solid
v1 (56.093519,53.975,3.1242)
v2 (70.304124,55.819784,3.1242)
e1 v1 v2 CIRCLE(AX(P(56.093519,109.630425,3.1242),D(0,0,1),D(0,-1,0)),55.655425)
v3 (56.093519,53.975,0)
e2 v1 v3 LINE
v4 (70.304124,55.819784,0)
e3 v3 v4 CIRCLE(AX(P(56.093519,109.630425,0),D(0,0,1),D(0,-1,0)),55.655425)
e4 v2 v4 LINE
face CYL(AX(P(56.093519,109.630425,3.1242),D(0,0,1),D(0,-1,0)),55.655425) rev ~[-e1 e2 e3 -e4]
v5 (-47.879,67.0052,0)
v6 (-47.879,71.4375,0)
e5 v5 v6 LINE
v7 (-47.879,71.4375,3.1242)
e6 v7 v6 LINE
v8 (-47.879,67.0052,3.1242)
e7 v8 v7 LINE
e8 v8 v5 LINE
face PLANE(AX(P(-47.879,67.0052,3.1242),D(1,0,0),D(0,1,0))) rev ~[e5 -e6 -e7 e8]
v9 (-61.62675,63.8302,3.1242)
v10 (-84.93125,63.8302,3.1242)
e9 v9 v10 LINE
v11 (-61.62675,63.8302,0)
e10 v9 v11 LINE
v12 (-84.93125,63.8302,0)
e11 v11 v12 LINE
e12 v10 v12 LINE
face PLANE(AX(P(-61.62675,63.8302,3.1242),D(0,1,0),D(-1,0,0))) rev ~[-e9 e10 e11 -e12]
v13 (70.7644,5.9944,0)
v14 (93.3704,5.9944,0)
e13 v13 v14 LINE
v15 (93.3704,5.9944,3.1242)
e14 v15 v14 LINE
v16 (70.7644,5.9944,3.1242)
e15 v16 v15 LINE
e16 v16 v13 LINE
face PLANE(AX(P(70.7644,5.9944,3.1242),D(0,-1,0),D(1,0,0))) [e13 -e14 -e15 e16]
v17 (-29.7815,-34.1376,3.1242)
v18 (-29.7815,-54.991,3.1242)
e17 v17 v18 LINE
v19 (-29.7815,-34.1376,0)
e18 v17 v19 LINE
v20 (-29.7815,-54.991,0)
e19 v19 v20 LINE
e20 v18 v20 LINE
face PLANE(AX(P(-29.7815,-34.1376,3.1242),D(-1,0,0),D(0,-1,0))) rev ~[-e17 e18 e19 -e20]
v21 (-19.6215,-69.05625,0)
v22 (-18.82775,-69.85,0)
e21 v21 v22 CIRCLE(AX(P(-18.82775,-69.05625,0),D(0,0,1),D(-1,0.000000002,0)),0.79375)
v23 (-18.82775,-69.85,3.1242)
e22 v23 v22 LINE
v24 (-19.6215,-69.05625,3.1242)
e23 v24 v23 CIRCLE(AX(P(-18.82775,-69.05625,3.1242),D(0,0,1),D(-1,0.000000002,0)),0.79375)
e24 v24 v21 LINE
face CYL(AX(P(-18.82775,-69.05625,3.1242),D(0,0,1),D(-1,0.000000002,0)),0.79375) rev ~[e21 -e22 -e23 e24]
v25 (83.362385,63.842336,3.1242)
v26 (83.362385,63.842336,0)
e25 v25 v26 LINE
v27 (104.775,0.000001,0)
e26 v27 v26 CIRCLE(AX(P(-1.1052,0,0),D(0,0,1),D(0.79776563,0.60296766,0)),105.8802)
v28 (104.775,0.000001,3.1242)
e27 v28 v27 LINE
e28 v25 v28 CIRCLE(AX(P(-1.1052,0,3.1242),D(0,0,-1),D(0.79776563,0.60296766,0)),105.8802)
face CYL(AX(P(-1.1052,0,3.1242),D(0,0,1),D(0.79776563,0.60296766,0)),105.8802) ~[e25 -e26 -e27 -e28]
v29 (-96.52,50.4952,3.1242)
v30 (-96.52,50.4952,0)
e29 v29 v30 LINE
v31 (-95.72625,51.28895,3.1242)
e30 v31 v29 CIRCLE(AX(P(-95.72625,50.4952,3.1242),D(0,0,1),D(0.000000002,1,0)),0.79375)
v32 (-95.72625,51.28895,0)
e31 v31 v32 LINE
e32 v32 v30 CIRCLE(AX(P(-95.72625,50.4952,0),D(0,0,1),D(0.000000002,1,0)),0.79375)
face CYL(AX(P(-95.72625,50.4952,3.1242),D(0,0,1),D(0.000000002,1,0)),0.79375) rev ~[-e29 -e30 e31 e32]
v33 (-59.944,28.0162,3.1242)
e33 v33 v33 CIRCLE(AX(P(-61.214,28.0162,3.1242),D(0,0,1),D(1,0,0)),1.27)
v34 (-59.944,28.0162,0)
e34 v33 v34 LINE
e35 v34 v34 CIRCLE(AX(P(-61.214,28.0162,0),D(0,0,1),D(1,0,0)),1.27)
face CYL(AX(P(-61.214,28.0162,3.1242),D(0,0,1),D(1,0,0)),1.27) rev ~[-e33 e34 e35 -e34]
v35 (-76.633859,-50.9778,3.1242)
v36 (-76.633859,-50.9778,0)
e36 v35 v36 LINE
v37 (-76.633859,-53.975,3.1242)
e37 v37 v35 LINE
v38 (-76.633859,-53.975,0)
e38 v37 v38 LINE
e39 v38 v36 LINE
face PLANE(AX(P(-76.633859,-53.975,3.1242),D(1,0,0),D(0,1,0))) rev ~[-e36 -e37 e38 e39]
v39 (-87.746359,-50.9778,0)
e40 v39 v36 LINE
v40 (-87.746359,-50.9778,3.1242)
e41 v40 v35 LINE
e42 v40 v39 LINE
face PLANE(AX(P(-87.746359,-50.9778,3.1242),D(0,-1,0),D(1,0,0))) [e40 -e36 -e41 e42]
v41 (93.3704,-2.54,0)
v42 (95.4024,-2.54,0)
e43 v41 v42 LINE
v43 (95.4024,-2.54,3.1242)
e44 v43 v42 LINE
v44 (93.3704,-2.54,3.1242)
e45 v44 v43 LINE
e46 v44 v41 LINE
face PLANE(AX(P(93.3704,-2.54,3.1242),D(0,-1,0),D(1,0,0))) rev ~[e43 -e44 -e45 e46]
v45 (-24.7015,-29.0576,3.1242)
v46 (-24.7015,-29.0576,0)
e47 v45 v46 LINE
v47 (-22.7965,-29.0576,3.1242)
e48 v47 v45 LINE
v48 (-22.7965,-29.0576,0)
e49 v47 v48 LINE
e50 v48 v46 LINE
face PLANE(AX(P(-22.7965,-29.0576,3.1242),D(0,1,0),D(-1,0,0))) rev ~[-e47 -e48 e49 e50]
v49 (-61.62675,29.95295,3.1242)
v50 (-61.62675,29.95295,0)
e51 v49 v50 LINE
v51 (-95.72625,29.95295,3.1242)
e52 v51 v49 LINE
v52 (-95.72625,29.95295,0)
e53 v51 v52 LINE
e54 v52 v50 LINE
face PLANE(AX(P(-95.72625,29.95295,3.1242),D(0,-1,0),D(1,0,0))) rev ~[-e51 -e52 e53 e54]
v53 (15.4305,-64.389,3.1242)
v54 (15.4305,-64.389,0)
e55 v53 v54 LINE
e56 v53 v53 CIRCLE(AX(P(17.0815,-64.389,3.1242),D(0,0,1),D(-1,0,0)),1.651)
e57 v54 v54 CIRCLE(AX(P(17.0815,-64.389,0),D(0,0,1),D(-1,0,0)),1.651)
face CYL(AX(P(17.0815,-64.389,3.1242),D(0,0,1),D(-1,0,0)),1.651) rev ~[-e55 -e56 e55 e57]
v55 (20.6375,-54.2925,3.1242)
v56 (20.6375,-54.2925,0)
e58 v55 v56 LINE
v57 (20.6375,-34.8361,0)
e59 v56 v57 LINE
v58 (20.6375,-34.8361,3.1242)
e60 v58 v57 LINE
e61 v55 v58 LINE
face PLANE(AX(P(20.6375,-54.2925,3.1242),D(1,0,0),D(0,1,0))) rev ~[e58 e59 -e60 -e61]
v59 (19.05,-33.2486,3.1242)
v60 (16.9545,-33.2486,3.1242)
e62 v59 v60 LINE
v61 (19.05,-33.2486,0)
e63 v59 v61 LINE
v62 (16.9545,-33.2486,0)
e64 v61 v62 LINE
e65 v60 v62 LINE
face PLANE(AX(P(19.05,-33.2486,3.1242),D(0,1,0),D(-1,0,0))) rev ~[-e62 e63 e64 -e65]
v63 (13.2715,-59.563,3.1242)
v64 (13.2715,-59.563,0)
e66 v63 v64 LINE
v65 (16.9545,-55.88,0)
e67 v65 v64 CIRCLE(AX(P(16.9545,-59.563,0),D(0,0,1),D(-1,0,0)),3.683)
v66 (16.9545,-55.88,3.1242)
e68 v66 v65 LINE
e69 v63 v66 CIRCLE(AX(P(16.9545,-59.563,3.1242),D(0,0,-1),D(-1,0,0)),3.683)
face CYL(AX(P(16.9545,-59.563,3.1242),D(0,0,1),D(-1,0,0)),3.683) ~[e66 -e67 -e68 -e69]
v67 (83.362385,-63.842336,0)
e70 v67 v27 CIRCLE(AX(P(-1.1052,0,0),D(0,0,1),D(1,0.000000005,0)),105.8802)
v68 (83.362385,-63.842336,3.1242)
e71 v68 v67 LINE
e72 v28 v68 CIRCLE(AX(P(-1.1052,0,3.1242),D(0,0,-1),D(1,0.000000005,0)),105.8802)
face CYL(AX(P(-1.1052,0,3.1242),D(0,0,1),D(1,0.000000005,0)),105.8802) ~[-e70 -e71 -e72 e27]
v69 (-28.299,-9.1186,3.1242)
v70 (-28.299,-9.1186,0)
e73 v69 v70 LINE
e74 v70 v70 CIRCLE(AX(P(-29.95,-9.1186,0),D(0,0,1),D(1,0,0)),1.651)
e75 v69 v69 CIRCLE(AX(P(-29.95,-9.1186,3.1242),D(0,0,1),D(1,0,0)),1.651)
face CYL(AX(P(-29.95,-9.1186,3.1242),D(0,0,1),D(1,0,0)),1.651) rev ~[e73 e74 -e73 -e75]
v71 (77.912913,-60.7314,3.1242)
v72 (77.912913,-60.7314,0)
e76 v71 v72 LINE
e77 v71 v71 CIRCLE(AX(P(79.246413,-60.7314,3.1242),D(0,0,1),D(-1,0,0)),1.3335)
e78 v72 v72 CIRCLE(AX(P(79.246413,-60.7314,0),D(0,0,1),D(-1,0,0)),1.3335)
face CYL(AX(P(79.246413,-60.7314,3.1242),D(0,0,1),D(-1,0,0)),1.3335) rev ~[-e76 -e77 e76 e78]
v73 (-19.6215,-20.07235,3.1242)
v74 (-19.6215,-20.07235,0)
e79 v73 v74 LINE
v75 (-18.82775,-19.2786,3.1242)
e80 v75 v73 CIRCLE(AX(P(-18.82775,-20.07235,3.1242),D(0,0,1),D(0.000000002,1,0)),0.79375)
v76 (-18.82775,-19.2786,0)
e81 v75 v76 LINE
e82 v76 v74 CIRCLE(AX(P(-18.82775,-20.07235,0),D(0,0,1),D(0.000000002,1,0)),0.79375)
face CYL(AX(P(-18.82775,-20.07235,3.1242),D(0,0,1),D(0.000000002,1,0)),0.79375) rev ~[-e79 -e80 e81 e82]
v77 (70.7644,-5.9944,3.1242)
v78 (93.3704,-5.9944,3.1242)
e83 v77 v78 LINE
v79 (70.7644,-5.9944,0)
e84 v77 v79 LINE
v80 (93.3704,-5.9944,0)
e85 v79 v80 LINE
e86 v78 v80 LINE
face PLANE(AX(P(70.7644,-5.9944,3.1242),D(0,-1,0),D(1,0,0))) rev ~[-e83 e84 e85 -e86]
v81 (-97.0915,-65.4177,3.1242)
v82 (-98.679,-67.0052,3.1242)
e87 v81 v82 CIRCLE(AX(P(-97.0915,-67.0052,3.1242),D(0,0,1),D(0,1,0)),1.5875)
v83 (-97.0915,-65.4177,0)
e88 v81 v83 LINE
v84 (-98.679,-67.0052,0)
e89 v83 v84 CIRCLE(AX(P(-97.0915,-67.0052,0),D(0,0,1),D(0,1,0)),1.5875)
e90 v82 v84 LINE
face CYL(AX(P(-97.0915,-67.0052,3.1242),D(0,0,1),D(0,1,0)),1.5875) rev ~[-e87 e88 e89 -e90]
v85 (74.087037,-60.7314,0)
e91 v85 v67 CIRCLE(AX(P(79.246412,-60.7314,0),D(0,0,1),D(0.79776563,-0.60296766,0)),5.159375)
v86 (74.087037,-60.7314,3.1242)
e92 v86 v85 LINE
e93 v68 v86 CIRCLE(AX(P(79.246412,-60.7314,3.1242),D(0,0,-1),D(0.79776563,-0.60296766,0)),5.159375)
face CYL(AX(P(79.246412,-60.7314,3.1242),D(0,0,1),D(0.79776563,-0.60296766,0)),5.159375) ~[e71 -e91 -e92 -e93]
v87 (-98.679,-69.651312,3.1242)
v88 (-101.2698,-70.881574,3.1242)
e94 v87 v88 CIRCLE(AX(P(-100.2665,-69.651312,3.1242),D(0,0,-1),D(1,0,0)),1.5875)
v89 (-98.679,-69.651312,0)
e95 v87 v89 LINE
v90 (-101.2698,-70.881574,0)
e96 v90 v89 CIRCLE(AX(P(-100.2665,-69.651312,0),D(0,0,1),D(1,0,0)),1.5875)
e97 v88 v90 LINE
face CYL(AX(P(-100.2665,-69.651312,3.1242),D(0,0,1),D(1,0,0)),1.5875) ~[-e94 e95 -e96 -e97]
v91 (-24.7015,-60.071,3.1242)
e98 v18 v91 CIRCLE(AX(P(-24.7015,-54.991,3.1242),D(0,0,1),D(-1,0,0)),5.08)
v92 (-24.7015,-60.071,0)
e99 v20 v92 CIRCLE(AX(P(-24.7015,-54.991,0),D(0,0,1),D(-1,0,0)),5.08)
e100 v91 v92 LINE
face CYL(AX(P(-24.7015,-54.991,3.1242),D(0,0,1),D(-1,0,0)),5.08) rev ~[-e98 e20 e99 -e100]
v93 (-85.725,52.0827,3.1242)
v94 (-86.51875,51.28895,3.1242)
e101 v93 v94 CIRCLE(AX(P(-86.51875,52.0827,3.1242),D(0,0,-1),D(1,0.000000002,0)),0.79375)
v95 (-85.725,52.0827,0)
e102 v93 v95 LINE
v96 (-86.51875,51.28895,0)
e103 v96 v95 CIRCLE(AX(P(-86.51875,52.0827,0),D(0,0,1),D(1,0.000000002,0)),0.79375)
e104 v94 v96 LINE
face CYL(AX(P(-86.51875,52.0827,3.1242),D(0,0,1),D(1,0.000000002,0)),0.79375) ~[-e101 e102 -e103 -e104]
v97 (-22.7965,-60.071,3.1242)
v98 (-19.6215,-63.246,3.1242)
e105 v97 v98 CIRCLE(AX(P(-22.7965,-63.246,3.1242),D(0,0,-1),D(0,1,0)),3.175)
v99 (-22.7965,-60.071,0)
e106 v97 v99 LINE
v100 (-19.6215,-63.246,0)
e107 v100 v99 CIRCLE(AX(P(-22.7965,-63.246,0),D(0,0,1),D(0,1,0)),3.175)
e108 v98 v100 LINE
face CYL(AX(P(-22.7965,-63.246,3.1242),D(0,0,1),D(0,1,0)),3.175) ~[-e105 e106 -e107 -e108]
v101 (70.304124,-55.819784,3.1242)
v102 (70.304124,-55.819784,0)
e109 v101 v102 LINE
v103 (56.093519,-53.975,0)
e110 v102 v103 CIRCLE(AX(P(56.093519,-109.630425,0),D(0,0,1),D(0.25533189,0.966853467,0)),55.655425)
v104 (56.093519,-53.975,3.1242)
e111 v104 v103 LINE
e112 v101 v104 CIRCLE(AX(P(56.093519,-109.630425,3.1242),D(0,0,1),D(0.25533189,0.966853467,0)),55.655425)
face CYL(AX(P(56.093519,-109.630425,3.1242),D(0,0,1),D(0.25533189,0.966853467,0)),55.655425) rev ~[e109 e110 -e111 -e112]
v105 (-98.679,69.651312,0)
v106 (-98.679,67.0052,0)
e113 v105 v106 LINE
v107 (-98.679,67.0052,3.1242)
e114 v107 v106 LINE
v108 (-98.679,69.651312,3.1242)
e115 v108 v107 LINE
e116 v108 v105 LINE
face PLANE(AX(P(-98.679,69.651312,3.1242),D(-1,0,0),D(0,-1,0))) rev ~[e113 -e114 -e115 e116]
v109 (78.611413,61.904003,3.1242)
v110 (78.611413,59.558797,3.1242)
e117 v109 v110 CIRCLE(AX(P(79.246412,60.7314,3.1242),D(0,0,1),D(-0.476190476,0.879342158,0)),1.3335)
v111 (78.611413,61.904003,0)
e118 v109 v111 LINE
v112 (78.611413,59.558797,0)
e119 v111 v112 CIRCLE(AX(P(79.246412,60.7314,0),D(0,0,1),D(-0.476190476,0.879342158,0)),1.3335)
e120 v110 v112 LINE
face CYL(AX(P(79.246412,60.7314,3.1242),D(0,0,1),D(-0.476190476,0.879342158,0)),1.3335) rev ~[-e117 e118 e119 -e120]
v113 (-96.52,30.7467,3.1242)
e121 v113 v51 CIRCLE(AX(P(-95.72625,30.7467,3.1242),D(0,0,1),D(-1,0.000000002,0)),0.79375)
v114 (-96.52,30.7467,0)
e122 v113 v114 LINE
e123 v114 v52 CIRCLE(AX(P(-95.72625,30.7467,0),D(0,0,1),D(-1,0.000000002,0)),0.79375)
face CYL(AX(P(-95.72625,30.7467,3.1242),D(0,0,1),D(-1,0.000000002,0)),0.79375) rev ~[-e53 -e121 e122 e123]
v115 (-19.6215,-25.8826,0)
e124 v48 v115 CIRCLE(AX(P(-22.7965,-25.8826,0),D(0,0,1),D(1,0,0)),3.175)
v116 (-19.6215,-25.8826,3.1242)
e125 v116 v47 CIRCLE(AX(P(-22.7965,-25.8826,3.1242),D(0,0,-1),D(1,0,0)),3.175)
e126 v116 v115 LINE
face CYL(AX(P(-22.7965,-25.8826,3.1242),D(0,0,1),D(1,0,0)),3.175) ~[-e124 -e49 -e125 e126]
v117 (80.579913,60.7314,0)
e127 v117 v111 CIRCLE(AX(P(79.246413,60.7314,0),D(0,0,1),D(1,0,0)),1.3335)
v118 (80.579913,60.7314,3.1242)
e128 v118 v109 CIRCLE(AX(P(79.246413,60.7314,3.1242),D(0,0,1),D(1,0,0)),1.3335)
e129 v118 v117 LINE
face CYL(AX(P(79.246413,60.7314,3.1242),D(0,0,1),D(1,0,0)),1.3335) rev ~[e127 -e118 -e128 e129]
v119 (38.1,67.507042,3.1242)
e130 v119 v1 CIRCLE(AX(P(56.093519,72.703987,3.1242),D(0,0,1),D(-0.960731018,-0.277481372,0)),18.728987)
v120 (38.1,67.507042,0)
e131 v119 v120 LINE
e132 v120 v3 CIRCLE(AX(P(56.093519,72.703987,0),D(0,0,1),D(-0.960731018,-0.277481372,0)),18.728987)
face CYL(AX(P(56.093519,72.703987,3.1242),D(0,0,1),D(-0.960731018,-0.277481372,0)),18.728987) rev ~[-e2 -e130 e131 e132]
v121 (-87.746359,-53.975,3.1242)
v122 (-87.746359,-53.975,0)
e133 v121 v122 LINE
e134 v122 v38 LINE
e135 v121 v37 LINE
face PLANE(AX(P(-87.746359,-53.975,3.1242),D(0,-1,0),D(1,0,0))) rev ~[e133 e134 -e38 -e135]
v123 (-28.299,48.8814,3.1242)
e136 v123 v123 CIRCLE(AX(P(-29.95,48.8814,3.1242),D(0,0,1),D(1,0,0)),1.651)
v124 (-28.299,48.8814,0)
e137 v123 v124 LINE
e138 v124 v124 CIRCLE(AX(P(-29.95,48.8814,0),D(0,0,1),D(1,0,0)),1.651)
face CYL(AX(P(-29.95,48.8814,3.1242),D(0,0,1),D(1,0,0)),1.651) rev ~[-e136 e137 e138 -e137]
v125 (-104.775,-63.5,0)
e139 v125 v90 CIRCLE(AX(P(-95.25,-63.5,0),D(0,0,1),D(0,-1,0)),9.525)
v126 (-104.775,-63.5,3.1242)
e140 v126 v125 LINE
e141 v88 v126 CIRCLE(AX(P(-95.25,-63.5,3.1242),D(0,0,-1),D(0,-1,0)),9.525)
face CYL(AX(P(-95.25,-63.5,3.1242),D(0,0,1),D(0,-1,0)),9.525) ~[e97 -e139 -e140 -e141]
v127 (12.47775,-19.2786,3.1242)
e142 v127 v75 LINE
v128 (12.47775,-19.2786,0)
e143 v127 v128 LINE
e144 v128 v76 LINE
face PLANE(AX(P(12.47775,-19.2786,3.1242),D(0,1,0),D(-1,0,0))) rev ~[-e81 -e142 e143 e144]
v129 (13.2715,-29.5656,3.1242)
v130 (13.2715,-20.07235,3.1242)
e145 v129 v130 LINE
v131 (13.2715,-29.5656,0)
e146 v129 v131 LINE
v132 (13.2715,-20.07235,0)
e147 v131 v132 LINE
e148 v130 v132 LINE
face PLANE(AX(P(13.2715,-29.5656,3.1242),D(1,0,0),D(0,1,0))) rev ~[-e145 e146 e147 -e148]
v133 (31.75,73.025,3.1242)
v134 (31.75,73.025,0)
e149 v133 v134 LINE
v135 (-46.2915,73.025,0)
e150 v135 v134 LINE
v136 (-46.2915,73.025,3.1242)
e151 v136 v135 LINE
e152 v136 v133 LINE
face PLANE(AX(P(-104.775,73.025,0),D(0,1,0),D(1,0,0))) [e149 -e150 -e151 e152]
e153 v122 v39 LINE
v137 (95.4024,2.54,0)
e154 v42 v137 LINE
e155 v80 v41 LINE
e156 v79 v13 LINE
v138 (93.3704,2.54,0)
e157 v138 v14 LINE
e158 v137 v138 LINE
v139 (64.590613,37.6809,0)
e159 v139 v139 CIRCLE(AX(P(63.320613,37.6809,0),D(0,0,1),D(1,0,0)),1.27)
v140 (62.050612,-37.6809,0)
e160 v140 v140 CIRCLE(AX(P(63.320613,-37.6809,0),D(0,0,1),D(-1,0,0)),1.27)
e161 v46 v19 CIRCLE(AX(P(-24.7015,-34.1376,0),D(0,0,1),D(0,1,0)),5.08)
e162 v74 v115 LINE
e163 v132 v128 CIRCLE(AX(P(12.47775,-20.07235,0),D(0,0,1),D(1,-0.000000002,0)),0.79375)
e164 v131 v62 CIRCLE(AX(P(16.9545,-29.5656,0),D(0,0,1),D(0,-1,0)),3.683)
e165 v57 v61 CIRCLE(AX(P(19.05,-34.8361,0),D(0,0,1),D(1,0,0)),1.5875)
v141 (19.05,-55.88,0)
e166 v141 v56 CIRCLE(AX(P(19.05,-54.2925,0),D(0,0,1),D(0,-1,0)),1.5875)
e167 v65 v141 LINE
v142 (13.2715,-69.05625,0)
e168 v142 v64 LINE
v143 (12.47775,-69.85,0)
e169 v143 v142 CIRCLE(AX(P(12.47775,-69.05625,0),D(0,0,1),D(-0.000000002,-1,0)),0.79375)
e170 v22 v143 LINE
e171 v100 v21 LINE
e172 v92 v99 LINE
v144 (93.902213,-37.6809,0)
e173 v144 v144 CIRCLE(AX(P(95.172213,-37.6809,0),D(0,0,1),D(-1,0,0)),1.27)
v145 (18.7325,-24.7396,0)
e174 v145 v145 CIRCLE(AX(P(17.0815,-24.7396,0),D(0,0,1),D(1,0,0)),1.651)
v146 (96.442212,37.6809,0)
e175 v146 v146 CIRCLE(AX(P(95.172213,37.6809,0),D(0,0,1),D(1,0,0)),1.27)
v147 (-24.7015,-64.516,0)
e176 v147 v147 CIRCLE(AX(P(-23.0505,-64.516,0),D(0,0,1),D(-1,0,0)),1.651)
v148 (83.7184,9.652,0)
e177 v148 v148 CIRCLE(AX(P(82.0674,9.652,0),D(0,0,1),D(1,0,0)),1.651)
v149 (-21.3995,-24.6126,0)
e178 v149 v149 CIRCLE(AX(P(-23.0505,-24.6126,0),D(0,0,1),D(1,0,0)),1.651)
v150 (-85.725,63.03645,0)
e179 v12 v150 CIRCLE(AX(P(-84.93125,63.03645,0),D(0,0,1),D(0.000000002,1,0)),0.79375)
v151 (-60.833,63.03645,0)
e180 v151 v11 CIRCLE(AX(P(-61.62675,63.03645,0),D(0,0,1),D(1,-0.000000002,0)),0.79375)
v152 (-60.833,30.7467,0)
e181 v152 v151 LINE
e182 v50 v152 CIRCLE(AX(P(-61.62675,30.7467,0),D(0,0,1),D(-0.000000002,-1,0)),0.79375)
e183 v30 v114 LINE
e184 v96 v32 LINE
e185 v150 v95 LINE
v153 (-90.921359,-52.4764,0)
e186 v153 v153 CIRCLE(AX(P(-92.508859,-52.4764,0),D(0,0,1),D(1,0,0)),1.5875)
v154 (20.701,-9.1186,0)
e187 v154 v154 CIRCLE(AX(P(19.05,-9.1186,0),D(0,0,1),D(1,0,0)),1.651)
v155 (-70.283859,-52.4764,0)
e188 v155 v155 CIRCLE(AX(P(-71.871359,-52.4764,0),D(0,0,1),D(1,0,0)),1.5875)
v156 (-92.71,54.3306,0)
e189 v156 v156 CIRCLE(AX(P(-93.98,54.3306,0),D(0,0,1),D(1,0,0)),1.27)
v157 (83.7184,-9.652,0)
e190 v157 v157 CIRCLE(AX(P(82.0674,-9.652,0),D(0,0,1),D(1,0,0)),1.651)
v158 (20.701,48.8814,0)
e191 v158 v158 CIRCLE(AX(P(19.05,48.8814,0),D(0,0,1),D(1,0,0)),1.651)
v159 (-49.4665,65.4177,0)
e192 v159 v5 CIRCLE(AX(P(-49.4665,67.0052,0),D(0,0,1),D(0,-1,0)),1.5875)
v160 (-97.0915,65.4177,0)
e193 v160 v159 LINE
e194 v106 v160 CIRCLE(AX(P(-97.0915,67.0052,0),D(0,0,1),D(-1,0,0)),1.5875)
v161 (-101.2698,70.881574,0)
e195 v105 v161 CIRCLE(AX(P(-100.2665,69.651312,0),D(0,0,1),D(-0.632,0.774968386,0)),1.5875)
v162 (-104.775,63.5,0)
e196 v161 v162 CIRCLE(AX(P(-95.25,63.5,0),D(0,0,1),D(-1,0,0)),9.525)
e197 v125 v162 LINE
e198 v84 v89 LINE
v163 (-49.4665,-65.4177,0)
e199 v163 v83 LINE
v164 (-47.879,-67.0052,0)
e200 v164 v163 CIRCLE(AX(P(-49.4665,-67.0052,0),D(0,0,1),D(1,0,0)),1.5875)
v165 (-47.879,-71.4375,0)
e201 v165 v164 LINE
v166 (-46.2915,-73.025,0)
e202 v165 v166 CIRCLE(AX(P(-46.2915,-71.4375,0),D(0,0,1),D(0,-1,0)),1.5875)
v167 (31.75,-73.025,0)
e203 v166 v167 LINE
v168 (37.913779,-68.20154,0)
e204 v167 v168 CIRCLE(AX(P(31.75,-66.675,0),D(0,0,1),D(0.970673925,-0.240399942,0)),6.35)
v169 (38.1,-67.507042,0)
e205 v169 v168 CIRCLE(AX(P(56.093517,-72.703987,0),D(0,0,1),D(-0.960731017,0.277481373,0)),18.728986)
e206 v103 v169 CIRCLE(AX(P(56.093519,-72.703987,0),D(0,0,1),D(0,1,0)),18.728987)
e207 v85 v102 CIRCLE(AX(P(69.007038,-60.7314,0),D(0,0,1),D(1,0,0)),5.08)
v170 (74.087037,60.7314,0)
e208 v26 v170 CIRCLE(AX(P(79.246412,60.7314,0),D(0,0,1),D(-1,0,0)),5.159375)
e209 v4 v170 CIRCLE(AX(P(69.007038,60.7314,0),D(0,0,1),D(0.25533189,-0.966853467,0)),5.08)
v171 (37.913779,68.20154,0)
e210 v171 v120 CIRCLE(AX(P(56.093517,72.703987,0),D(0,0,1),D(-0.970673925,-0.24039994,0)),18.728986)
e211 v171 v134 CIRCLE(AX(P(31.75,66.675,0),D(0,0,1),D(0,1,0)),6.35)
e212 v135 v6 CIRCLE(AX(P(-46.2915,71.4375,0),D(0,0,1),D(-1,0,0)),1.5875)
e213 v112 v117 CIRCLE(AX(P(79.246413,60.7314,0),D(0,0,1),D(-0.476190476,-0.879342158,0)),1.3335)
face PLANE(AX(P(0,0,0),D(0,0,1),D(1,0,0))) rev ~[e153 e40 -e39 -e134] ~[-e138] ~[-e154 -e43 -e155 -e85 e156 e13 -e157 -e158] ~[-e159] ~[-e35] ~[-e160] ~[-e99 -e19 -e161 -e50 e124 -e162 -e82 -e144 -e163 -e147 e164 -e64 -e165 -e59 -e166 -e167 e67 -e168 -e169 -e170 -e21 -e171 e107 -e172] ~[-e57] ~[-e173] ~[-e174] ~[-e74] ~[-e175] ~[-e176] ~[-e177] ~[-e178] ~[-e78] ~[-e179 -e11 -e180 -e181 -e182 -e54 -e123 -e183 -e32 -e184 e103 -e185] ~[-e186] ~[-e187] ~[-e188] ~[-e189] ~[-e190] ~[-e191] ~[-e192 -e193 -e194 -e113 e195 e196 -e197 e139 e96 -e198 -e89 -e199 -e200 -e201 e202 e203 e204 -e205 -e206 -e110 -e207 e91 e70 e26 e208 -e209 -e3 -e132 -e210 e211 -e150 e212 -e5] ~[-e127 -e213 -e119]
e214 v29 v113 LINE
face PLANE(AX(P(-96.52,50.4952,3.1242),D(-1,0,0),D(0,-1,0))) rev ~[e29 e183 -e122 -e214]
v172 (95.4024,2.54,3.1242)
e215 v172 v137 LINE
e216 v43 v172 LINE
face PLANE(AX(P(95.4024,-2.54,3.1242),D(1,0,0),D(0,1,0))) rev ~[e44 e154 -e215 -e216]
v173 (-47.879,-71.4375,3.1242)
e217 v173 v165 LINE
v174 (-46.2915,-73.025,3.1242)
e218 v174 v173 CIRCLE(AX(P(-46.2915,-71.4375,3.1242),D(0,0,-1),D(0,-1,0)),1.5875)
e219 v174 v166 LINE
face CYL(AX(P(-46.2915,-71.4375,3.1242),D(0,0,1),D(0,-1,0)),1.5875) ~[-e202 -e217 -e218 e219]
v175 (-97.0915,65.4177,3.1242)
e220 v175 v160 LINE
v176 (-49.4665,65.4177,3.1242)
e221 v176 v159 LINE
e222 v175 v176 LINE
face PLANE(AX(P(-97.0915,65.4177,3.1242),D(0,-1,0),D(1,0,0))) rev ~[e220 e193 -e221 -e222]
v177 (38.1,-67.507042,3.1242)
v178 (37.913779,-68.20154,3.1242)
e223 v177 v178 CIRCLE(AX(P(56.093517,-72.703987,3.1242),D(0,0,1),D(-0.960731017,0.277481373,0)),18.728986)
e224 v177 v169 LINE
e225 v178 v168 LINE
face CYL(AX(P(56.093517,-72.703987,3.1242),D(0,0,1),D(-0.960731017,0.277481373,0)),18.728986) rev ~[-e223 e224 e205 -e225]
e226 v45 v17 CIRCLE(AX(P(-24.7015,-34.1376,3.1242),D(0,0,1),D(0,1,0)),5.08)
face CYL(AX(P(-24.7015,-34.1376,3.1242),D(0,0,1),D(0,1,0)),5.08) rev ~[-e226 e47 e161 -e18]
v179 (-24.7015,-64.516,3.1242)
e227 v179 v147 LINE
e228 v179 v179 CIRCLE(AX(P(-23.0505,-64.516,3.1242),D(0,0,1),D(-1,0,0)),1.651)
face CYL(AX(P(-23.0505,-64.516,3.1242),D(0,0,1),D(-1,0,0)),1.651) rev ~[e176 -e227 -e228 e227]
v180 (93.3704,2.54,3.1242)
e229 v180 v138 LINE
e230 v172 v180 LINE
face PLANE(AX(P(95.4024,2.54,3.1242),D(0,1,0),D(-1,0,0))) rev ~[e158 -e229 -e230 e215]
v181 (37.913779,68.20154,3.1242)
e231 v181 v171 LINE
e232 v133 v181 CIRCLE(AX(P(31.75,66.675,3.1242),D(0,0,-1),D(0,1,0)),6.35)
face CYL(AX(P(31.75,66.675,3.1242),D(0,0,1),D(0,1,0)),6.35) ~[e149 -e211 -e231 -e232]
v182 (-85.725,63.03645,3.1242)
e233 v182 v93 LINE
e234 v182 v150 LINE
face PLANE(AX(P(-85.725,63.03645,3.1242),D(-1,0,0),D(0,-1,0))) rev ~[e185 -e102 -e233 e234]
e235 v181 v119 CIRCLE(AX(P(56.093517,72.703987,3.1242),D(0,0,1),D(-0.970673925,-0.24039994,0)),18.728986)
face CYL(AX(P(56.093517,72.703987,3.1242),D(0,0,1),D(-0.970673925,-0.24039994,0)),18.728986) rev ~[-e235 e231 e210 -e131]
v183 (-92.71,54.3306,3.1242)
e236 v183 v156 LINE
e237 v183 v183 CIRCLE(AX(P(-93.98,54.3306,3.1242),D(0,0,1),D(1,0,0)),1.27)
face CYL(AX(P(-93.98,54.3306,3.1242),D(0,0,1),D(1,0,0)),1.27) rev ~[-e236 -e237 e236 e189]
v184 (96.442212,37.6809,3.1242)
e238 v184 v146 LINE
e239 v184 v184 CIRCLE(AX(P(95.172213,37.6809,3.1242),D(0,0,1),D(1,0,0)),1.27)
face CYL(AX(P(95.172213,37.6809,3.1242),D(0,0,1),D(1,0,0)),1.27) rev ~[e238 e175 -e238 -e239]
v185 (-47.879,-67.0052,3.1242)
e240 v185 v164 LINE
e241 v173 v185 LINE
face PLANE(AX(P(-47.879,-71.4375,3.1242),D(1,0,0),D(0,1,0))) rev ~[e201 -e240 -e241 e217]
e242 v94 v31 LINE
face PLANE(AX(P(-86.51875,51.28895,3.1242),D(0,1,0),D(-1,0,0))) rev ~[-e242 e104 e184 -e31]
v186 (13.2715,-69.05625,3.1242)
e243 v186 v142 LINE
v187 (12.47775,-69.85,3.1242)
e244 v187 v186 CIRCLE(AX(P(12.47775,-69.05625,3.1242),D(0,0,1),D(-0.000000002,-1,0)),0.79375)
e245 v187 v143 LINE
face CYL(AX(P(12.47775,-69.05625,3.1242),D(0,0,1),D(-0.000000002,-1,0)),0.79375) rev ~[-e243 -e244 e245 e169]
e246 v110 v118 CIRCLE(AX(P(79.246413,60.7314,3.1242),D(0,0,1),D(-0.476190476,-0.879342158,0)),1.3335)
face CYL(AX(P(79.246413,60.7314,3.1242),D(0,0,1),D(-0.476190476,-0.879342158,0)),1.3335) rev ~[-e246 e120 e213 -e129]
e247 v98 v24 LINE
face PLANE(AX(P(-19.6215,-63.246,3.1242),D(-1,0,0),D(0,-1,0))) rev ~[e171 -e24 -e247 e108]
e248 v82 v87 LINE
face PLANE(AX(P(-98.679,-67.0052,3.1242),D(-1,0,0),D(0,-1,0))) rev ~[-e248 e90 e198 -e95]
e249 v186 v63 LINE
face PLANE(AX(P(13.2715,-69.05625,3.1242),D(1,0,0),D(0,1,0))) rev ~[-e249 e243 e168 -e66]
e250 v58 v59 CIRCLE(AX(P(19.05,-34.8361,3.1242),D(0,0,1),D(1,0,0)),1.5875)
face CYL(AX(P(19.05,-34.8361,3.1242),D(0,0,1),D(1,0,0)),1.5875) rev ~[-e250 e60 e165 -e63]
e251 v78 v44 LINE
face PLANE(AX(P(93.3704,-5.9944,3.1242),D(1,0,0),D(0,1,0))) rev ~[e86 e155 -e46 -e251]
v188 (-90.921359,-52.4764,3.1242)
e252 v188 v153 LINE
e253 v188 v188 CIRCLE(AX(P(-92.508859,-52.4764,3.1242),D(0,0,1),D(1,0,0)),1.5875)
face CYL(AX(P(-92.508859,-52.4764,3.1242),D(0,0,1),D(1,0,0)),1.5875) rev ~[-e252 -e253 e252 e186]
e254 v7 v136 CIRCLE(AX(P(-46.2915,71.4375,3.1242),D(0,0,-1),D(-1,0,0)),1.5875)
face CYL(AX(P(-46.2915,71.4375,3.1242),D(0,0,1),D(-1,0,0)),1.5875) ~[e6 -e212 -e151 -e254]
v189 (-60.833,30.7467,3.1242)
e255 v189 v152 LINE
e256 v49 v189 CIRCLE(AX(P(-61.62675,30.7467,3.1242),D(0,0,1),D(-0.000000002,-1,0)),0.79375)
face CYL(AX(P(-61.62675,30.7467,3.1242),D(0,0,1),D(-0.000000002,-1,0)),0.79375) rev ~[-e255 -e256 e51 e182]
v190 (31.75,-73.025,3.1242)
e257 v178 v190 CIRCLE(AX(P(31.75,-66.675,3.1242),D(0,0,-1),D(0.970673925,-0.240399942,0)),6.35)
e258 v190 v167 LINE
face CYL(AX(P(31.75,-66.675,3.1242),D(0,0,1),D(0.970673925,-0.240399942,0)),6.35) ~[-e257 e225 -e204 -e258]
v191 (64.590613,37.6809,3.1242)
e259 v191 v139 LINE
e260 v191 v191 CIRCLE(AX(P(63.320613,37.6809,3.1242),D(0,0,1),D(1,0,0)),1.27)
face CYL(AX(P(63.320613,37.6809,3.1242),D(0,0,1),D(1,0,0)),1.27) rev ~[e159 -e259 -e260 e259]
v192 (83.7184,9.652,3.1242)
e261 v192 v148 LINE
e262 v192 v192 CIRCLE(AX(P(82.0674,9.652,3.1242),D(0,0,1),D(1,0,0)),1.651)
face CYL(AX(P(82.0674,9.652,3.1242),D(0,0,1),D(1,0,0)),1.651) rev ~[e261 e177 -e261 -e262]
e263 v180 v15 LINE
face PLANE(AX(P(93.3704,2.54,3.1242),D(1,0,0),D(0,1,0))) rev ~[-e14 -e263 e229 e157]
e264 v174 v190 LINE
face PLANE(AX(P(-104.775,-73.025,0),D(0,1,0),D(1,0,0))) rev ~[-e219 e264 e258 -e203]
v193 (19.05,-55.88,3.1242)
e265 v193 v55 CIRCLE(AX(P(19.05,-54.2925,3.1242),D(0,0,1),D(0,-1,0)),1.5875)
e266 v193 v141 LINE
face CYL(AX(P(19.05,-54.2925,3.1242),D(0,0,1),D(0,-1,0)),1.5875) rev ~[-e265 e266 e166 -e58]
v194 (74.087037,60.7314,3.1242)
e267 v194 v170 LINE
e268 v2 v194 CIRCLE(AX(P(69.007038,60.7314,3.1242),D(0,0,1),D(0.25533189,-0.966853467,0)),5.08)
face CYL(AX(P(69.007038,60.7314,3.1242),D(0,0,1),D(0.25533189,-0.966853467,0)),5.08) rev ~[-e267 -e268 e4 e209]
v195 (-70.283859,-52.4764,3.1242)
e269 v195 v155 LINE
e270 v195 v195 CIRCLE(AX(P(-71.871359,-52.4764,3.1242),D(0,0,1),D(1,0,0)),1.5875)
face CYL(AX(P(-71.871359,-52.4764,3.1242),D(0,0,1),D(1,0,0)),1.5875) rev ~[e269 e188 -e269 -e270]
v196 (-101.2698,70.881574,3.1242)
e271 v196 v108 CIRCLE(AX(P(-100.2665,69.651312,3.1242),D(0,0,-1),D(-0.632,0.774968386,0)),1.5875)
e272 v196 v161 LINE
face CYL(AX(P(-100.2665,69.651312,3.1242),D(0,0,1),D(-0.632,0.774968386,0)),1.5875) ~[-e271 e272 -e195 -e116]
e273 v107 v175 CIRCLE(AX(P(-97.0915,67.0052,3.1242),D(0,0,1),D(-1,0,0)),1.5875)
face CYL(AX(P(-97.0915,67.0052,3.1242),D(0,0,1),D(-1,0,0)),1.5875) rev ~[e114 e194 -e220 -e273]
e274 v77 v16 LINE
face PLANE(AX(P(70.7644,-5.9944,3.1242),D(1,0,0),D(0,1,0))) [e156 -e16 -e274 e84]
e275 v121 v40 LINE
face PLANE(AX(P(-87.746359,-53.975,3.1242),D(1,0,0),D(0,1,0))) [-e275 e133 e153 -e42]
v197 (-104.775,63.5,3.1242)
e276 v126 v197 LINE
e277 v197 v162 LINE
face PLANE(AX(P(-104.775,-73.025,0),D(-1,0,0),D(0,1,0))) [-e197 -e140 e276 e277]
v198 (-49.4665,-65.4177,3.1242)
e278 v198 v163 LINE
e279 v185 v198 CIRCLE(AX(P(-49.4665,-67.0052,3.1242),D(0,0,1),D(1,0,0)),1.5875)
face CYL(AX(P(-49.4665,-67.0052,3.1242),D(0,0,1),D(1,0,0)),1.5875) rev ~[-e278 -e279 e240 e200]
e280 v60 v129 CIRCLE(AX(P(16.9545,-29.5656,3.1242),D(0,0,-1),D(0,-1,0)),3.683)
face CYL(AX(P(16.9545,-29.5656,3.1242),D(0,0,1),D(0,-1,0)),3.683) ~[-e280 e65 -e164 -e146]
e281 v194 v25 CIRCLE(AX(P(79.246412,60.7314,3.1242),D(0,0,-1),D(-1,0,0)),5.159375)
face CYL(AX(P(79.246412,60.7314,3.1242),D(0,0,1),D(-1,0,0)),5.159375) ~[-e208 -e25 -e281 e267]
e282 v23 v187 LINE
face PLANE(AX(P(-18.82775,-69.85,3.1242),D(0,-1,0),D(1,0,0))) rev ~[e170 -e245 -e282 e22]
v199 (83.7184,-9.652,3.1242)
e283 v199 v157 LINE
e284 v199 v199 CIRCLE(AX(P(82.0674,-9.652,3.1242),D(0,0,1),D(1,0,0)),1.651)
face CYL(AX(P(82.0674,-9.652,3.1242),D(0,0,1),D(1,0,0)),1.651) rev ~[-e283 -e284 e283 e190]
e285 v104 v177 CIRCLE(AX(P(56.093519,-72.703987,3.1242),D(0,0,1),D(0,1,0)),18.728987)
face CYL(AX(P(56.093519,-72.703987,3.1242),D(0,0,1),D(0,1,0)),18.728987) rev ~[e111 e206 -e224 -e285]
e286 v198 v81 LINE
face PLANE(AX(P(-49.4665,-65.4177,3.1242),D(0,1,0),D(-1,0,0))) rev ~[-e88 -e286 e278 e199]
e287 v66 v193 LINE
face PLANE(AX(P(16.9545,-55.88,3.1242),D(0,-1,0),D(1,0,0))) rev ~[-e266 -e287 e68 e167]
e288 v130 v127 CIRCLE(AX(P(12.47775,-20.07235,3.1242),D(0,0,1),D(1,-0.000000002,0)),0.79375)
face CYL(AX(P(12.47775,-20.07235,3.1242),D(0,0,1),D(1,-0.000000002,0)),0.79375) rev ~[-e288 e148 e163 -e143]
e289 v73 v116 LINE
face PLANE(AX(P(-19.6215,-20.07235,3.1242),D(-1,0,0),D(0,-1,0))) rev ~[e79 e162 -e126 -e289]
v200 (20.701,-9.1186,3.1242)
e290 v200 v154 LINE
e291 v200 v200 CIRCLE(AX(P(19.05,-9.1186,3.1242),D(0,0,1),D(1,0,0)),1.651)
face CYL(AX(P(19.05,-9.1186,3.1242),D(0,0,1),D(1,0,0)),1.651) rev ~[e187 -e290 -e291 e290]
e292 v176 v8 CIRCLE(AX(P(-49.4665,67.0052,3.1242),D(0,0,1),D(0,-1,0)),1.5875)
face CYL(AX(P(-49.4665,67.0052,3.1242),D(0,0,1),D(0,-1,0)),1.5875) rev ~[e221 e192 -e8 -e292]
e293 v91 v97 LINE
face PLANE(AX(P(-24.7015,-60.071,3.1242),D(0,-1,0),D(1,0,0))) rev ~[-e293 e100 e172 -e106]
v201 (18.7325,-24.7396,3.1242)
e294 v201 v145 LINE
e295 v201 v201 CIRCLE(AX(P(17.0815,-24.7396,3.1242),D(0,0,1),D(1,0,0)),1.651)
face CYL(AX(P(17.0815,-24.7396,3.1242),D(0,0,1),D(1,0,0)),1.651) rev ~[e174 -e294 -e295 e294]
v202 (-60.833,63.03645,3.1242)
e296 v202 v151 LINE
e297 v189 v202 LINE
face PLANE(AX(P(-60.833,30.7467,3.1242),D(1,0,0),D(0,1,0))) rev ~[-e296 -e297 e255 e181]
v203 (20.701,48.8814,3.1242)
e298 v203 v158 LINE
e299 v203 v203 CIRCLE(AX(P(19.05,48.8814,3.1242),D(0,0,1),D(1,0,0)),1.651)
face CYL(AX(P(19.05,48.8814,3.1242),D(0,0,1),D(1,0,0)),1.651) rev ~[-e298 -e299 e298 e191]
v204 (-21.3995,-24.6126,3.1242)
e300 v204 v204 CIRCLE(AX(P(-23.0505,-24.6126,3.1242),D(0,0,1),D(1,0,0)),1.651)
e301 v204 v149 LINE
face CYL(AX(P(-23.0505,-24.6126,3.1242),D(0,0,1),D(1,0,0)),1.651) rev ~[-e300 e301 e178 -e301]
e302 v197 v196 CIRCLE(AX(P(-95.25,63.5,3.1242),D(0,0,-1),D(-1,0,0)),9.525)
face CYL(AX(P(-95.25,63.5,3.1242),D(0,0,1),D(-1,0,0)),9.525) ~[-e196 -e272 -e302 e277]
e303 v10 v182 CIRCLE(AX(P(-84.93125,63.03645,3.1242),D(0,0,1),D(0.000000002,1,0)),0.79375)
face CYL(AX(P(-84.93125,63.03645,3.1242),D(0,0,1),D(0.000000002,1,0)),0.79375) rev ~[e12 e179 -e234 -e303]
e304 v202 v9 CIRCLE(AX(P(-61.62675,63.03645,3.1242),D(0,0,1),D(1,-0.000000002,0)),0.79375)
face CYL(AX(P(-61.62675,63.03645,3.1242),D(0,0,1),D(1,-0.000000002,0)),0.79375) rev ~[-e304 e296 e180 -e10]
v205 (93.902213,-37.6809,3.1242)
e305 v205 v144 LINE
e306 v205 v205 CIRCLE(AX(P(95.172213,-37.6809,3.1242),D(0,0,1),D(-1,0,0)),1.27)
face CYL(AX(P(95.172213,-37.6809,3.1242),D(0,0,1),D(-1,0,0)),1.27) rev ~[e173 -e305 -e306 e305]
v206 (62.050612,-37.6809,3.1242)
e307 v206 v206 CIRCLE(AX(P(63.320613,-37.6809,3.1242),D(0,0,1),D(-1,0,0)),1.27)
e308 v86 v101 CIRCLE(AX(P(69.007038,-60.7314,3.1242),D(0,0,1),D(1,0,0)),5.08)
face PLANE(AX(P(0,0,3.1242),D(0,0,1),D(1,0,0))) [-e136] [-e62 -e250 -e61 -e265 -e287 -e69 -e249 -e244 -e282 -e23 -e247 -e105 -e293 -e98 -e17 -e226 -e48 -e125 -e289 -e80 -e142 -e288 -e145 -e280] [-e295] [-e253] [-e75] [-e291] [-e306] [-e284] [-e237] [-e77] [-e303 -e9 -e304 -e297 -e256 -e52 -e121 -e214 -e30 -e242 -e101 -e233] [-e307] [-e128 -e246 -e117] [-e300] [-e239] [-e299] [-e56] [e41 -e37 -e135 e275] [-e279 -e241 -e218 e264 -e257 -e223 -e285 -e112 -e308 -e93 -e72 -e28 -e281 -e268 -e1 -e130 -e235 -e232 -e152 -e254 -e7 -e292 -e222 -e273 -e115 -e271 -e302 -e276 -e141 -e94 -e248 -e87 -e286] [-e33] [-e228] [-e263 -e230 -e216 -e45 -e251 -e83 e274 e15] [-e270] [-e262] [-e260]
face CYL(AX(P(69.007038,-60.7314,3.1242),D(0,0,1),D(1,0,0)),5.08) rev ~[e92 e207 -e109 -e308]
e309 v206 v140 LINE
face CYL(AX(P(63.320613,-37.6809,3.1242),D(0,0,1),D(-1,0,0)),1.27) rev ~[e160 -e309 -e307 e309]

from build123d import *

# Parameters (mm, degrees)
CROQUIS1_W                = 209.55
CROQUIS1_H                = 146.05
SALIENTE_EXTRUIR1_DEPTH   = 3.1242
CROQUIS2_R                = 1.3335
CORTAR_EXTRUIR1_DEPTH     = 128.750584639
CROQUIS9_R                = 1.27
CORTAR_EXTRUIR6_DEPTH     = 128.750584639
CORTAR_EXTRUIR2_DEPTH     = 128.750584639
CROQUIS5_R                = 1.651
DRIVER_DEPTH              = 128.750584639
CROQUIS6_R                = 1.651
RASPI_DEPTH               = 128.750584639
CROQUIS8_R                = 1.27
DIFERENCIAL_TRASERO_DEPTH = 128.750584639
CROQUIS7_R                = 1.5875
CROQUIS7_W                = 11.1125
CROQUIS7_H                = 2.9972
CORTAR_EXTRUIR7_DEPTH     = 128.750584639
CROQUIS10_R               = 1.651
CROQUIS10_W               = 22.606
CROQUIS10_H               = 11.9888
CORTAR_EXTRUIR10_DEPTH    = 128.750584639
CORTAR_EXTRUIR11_DEPTH    = 128.750584639


with BuildPart() as part:
    # Croquis1 → Saliente-Extruir1 (new body)
    with BuildSketch(Plane.XY):
        Rectangle(CROQUIS1_W, CROQUIS1_H)
    extrude(amount=SALIENTE_EXTRUIR1_DEPTH)

    # Croquis2 → Cortar-Extruir1 (cut, through all)
    with BuildSketch(Plane.XY.offset(3.1242)):
        with BuildLine():
            ThreePointArc((80.5799125, 60.7314), (79.928852882, 61.877042778), (78.6114125, 61.904002767))
            Line((78.6114125, 61.904002767), (78.6114125, 59.558797233))
            ThreePointArc((78.6114125, 59.558797233), (79.928852882, 59.585757222), (80.5799125, 60.7314))
        make_face()
        with BuildLine():
            Line((78.6114125, 59.558797233), (78.6114125, 61.904002767))
            ThreePointArc((78.6114125, 61.904002767), (77.9129125, 60.7314), (78.6114125, 59.558797233))
        make_face()
        with Locations(Location((79.2464125, -60.7314, 0), (0, 0, 180))):
            Circle(CROQUIS2_R)
    extrude(amount=-CORTAR_EXTRUIR1_DEPTH, mode=Mode.SUBTRACT)

    # Croquis9 → Cortar-Extruir6 (cut, through all)
    with BuildSketch(Plane.XY.offset(3.1242)):
        with Locations((63.3206125, 37.6809)):
            Circle(CROQUIS9_R)
        with Locations((95.1722125, 37.6809)):
            Circle(CROQUIS9_R)
        with Locations(Location((95.1722125, -37.6809, 0), (0, 0, 180))):
            Circle(CROQUIS9_R)
        with Locations(Location((63.3206125, -37.6809, 0), (0, 0, 180))):
            Circle(CROQUIS9_R)
    extrude(amount=-CORTAR_EXTRUIR6_DEPTH, mode=Mode.SUBTRACT)

    # Croquis3 → Cortar-Extruir2 (cut, through all)
    with BuildSketch(Plane.XY.offset(3.1242)):
        with BuildLine():
            Line((38.1, 67.507041999), (38.1, 73.025))
            Line((38.1, 73.025), (31.75, 73.025))
            ThreePointArc((31.75, 73.025), (35.663372801, 71.675801268), (37.913779422, 68.201539629))
            ThreePointArc((37.913779422, 68.201539629), (38.003556568, 67.853397075), (38.1, 67.507041999))
        make_face()
        with BuildLine():
            Line((74.0870375, 73.025), (38.1, 73.025))
            Line((38.1, 73.025), (38.1, 67.507041999))
            ThreePointArc((38.1, 67.507041999), (44.836488972, 57.735545708), (56.09351875, 53.975))
            ThreePointArc((56.09351875, 53.975), (63.258442282, 54.43812298), (70.304123502, 55.81978439))
            ThreePointArc((70.304123502, 55.81978439), (73.03168636, 57.631625564), (74.0870375, 60.7314))
            Line((74.0870375, 60.7314), (74.0870375, 73.025))
        make_face()
        with BuildLine():
            Line((104.775, 73.025), (74.0870375, 73.025))
            Line((74.0870375, 73.025), (74.0870375, 60.7314))
            ThreePointArc((74.0870375, 60.7314), (77.605786537, 65.622974066), (83.362384549, 63.842336271))
            ThreePointArc((83.362384549, 63.842336271), (99.279214777, 33.668769191), (104.775, 5.82e-07))
            Line((104.775, 5.82e-07), (104.775, 73.025))
        make_face()
        with BuildLine():
            Line((104.775, -73.025), (104.775, 5.82e-07))
            ThreePointArc((104.775, 5.82e-07), (99.279214962, -33.668768639), (83.362384549, -63.842336271))
            ThreePointArc((83.362384549, -63.842336271), (77.605786537, -65.622974066), (74.0870375, -60.7314))
            Line((74.0870375, -60.7314), (74.0870375, -73.025))
            Line((74.0870375, -73.025), (104.775, -73.025))
        make_face()
        with BuildLine():
            Line((74.0870375, -73.025), (74.0870375, -60.7314))
            ThreePointArc((74.0870375, -60.7314), (73.03168636, -57.631625564), (70.304123502, -55.81978439))
            ThreePointArc((70.304123502, -55.81978439), (63.258442282, -54.43812298), (56.09351875, -53.975))
            ThreePointArc((56.09351875, -53.975), (44.836488972, -57.735545708), (38.1, -67.507041999))
            Line((38.1, -67.507041999), (38.1, -73.025))
            Line((38.1, -73.025), (74.0870375, -73.025))
        make_face()
        with BuildLine():
            ThreePointArc((37.913779422, -68.201539629), (35.663372801, -71.675801268), (31.75, -73.025))
            Line((31.75, -73.025), (38.1, -73.025))
            Line((38.1, -73.025), (38.1, -67.507041999))
            ThreePointArc((38.1, -67.507041999), (38.003556568, -67.853397075), (37.913779422, -68.201539629))
        make_face()
        with BuildLine():
            ThreePointArc((-104.775, 63.5), (-101.985192091, 70.235192091), (-95.25, 73.025))
            Line((-95.25, 73.025), (-104.775, 73.025))
            Line((-104.775, 73.025), (-104.775, 63.5))
        make_face()
        with BuildLine():
            Line((-104.775, -73.025), (-95.25, -73.025))
            ThreePointArc((-95.25, -73.025), (-101.985192091, -70.235192091), (-104.775, -63.5))
            Line((-104.775, -63.5), (-104.775, -73.025))
        make_face()
    extrude(amount=-CORTAR_EXTRUIR2_DEPTH, mode=Mode.SUBTRACT)

    # Croquis5 → Driver (cut, through all)
    with BuildSketch(Plane.XY.offset(3.1242)):
        with BuildLine():
            Line((12.47775, -19.2786), (-18.82775, -19.2786))
            ThreePointArc((-18.82775, -19.2786), (-19.389016008, -19.511083992), (-19.6215, -20.07235))
            Line((-19.6215, -20.07235), (-19.6215, -25.8826))
            ThreePointArc((-19.6215, -25.8826), (-20.55143597, -28.12766403), (-22.7965, -29.0576))
            Line((-22.7965, -29.0576), (-24.7015, -29.0576))
            ThreePointArc((-24.7015, -29.0576), (-28.293602448, -30.545497552), (-29.7815, -34.1376))
            Line((-29.7815, -34.1376), (-29.7815, -54.991))
            ThreePointArc((-29.7815, -54.991), (-28.293602448, -58.583102448), (-24.7015, -60.071))
            Line((-24.7015, -60.071), (-22.7965, -60.071))
            ThreePointArc((-22.7965, -60.071), (-20.55143597, -61.00093597), (-19.6215, -63.246))
            Line((-19.6215, -63.246), (-19.6215, -69.05625))
            ThreePointArc((-19.6215, -69.05625), (-19.389016008, -69.617516008), (-18.82775, -69.85))
            Line((-18.82775, -69.85), (12.47775, -69.85))
            ThreePointArc((12.47775, -69.85), (13.039016008, -69.617516008), (13.2715, -69.05625))
            Line((13.2715, -69.05625), (13.2715, -59.563))
            ThreePointArc((13.2715, -59.563), (14.350225725, -56.958725725), (16.9545, -55.88))
            Line((16.9545, -55.88), (19.05, -55.88))
            ThreePointArc((19.05, -55.88), (20.172532015, -55.415032015), (20.6375, -54.2925))
            Line((20.6375, -54.2925), (20.6375, -34.8361))
            ThreePointArc((20.6375, -34.8361), (20.172532015, -33.713567985), (19.05, -33.2486))
            Line((19.05, -33.2486), (16.9545, -33.2486))
            ThreePointArc((16.9545, -33.2486), (14.350225725, -32.169874275), (13.2715, -29.5656))
            Line((13.2715, -29.5656), (13.2715, -20.07235))
            ThreePointArc((13.2715, -20.07235), (13.039016008, -19.511083992), (12.47775, -19.2786))
        make_face()
        with Locations((17.0815, -24.7396)):
            Circle(CROQUIS5_R)
        with Locations((-23.0505, -24.6126)):
            Circle(CROQUIS5_R)
        with Locations(Location((17.0815, -64.389, 0), (0, 0, 180))):
            Circle(CROQUIS5_R)
        with Locations(Location((-23.0505, -64.516, 0), (0, 0, 180))):
            Circle(CROQUIS5_R)
    extrude(amount=-DRIVER_DEPTH, mode=Mode.SUBTRACT)

    # Croquis6 → RasPi (cut, through all)
    with BuildSketch(Plane.XY.offset(3.1242)):
        with Locations((-29.95, 48.8814)):
            Circle(CROQUIS6_R)
        with Locations((19.05, 48.8814)):
            Circle(CROQUIS6_R)
        with Locations((19.05, -9.1186)):
            Circle(CROQUIS6_R)
        with Locations((-29.95, -9.1186)):
            Circle(CROQUIS6_R)
    extrude(amount=-RASPI_DEPTH, mode=Mode.SUBTRACT)

    # Croquis8 → Diferencial trasero (cut, through all)
    with BuildSketch(Plane.XY.offset(3.1242)):
        with Locations((-93.98, 54.3306)):
            Circle(CROQUIS8_R)
        with Locations((-61.214, 28.0162)):
            Circle(CROQUIS8_R)
    extrude(amount=-DIFERENCIAL_TRASERO_DEPTH, mode=Mode.SUBTRACT)

    # Croquis7 → Cortar-Extruir7 (cut, through all)
    with BuildSketch(Plane.XY.offset(3.1242)):
        with Locations((-92.508859415, -52.4764)):
            Circle(CROQUIS7_R)
        with Locations((-71.871359415, -52.4764)):
            Circle(CROQUIS7_R)
        with Locations((-82.190109415, -52.4764)):
            Rectangle(CROQUIS7_W, CROQUIS7_H)
    extrude(amount=-CORTAR_EXTRUIR7_DEPTH, mode=Mode.SUBTRACT)

    # Croquis10 → Cortar-Extruir10 (cut, through all)
    with BuildSketch(Plane.XY.offset(3.1242)):
        with Locations((82.0674, 9.652)):
            Circle(CROQUIS10_R)
        with Locations((82.0674, 0)):
            Rectangle(CROQUIS10_W, CROQUIS10_H)
        with Locations((82.0674, -9.652)):
            Circle(CROQUIS10_R)
        Polygon((93.3704, -1.966579717), (93.3704, -2.54), (95.4024, -2.54), (95.4024, 2.54), (93.3704, 2.54), align=None)
    extrude(amount=-CORTAR_EXTRUIR10_DEPTH, mode=Mode.SUBTRACT)

    # Croquis11 → Cortar-Extruir11 (cut, through all)
    with BuildSketch(Plane.XY.offset(3.1242)):
        with BuildLine():
            Line((-61.62675, 63.8302), (-84.93125, 63.8302))
            ThreePointArc((-84.93125, 63.8302), (-85.492516008, 63.597716008), (-85.725, 63.03645))
            Line((-85.725, 63.03645), (-85.725, 52.0827))
            ThreePointArc((-85.725, 52.0827), (-85.957483992, 51.521433992), (-86.51875, 51.28895))
            Line((-86.51875, 51.28895), (-95.72625, 51.28895))
            ThreePointArc((-95.72625, 51.28895), (-96.287516008, 51.056466008), (-96.52, 50.4952))
            Line((-96.52, 50.4952), (-96.52, 30.7467))
            ThreePointArc((-96.52, 30.7467), (-96.287516008, 30.185433992), (-95.72625, 29.95295))
            Line((-95.72625, 29.95295), (-61.62675, 29.95295))
            ThreePointArc((-61.62675, 29.95295), (-61.065483992, 30.185433992), (-60.833, 30.7467))
            Line((-60.833, 30.7467), (-60.833, 63.03645))
            ThreePointArc((-60.833, 63.03645), (-61.065483992, 63.597716008), (-61.62675, 63.8302))
        make_face()
        with BuildLine():
            ThreePointArc((-95.25, 73.025), (-98.445006556, 72.473157644), (-101.2698, 70.881573881))
            ThreePointArc((-101.2698, 70.881573881), (-99.585538364, 71.085343471), (-98.679, 69.651311567))
            Line((-98.679, 69.651311567), (-98.679, 67.0052))
            ThreePointArc((-98.679, 67.0052), (-98.214032015, 65.882667985), (-97.0915, 65.4177))
            Line((-97.0915, 65.4177), (-49.4665, 65.4177))
            ThreePointArc((-49.4665, 65.4177), (-48.343967985, 65.882667985), (-47.879, 67.0052))
            Line((-47.879, 67.0052), (-47.879, 71.4375))
            ThreePointArc((-47.879, 71.4375), (-47.414032015, 72.560032015), (-46.2915, 73.025))
            Line((-46.2915, 73.025), (-95.25, 73.025))
        make_face()
        with BuildLine():
            ThreePointArc((-98.679, -69.651311567), (-99.585538364, -71.085343471), (-101.2698, -70.881573881))
            ThreePointArc((-101.2698, -70.881573881), (-98.445006556, -72.473157644), (-95.25, -73.025))
            Line((-95.25, -73.025), (-46.2915, -73.025))
            ThreePointArc((-46.2915, -73.025), (-47.414032015, -72.560032015), (-47.879, -71.4375))
            Line((-47.879, -71.4375), (-47.879, -67.0052))
            ThreePointArc((-47.879, -67.0052), (-48.343967985, -65.882667985), (-49.4665, -65.4177))
            Line((-49.4665, -65.4177), (-97.0915, -65.4177))
            ThreePointArc((-97.0915, -65.4177), (-98.214032015, -65.882667985), (-98.679, -67.0052))
            Line((-98.679, -67.0052), (-98.679, -69.651311567))
        make_face()
    extrude(amount=-CORTAR_EXTRUIR11_DEPTH, mode=Mode.SUBTRACT)


solid = part.part
